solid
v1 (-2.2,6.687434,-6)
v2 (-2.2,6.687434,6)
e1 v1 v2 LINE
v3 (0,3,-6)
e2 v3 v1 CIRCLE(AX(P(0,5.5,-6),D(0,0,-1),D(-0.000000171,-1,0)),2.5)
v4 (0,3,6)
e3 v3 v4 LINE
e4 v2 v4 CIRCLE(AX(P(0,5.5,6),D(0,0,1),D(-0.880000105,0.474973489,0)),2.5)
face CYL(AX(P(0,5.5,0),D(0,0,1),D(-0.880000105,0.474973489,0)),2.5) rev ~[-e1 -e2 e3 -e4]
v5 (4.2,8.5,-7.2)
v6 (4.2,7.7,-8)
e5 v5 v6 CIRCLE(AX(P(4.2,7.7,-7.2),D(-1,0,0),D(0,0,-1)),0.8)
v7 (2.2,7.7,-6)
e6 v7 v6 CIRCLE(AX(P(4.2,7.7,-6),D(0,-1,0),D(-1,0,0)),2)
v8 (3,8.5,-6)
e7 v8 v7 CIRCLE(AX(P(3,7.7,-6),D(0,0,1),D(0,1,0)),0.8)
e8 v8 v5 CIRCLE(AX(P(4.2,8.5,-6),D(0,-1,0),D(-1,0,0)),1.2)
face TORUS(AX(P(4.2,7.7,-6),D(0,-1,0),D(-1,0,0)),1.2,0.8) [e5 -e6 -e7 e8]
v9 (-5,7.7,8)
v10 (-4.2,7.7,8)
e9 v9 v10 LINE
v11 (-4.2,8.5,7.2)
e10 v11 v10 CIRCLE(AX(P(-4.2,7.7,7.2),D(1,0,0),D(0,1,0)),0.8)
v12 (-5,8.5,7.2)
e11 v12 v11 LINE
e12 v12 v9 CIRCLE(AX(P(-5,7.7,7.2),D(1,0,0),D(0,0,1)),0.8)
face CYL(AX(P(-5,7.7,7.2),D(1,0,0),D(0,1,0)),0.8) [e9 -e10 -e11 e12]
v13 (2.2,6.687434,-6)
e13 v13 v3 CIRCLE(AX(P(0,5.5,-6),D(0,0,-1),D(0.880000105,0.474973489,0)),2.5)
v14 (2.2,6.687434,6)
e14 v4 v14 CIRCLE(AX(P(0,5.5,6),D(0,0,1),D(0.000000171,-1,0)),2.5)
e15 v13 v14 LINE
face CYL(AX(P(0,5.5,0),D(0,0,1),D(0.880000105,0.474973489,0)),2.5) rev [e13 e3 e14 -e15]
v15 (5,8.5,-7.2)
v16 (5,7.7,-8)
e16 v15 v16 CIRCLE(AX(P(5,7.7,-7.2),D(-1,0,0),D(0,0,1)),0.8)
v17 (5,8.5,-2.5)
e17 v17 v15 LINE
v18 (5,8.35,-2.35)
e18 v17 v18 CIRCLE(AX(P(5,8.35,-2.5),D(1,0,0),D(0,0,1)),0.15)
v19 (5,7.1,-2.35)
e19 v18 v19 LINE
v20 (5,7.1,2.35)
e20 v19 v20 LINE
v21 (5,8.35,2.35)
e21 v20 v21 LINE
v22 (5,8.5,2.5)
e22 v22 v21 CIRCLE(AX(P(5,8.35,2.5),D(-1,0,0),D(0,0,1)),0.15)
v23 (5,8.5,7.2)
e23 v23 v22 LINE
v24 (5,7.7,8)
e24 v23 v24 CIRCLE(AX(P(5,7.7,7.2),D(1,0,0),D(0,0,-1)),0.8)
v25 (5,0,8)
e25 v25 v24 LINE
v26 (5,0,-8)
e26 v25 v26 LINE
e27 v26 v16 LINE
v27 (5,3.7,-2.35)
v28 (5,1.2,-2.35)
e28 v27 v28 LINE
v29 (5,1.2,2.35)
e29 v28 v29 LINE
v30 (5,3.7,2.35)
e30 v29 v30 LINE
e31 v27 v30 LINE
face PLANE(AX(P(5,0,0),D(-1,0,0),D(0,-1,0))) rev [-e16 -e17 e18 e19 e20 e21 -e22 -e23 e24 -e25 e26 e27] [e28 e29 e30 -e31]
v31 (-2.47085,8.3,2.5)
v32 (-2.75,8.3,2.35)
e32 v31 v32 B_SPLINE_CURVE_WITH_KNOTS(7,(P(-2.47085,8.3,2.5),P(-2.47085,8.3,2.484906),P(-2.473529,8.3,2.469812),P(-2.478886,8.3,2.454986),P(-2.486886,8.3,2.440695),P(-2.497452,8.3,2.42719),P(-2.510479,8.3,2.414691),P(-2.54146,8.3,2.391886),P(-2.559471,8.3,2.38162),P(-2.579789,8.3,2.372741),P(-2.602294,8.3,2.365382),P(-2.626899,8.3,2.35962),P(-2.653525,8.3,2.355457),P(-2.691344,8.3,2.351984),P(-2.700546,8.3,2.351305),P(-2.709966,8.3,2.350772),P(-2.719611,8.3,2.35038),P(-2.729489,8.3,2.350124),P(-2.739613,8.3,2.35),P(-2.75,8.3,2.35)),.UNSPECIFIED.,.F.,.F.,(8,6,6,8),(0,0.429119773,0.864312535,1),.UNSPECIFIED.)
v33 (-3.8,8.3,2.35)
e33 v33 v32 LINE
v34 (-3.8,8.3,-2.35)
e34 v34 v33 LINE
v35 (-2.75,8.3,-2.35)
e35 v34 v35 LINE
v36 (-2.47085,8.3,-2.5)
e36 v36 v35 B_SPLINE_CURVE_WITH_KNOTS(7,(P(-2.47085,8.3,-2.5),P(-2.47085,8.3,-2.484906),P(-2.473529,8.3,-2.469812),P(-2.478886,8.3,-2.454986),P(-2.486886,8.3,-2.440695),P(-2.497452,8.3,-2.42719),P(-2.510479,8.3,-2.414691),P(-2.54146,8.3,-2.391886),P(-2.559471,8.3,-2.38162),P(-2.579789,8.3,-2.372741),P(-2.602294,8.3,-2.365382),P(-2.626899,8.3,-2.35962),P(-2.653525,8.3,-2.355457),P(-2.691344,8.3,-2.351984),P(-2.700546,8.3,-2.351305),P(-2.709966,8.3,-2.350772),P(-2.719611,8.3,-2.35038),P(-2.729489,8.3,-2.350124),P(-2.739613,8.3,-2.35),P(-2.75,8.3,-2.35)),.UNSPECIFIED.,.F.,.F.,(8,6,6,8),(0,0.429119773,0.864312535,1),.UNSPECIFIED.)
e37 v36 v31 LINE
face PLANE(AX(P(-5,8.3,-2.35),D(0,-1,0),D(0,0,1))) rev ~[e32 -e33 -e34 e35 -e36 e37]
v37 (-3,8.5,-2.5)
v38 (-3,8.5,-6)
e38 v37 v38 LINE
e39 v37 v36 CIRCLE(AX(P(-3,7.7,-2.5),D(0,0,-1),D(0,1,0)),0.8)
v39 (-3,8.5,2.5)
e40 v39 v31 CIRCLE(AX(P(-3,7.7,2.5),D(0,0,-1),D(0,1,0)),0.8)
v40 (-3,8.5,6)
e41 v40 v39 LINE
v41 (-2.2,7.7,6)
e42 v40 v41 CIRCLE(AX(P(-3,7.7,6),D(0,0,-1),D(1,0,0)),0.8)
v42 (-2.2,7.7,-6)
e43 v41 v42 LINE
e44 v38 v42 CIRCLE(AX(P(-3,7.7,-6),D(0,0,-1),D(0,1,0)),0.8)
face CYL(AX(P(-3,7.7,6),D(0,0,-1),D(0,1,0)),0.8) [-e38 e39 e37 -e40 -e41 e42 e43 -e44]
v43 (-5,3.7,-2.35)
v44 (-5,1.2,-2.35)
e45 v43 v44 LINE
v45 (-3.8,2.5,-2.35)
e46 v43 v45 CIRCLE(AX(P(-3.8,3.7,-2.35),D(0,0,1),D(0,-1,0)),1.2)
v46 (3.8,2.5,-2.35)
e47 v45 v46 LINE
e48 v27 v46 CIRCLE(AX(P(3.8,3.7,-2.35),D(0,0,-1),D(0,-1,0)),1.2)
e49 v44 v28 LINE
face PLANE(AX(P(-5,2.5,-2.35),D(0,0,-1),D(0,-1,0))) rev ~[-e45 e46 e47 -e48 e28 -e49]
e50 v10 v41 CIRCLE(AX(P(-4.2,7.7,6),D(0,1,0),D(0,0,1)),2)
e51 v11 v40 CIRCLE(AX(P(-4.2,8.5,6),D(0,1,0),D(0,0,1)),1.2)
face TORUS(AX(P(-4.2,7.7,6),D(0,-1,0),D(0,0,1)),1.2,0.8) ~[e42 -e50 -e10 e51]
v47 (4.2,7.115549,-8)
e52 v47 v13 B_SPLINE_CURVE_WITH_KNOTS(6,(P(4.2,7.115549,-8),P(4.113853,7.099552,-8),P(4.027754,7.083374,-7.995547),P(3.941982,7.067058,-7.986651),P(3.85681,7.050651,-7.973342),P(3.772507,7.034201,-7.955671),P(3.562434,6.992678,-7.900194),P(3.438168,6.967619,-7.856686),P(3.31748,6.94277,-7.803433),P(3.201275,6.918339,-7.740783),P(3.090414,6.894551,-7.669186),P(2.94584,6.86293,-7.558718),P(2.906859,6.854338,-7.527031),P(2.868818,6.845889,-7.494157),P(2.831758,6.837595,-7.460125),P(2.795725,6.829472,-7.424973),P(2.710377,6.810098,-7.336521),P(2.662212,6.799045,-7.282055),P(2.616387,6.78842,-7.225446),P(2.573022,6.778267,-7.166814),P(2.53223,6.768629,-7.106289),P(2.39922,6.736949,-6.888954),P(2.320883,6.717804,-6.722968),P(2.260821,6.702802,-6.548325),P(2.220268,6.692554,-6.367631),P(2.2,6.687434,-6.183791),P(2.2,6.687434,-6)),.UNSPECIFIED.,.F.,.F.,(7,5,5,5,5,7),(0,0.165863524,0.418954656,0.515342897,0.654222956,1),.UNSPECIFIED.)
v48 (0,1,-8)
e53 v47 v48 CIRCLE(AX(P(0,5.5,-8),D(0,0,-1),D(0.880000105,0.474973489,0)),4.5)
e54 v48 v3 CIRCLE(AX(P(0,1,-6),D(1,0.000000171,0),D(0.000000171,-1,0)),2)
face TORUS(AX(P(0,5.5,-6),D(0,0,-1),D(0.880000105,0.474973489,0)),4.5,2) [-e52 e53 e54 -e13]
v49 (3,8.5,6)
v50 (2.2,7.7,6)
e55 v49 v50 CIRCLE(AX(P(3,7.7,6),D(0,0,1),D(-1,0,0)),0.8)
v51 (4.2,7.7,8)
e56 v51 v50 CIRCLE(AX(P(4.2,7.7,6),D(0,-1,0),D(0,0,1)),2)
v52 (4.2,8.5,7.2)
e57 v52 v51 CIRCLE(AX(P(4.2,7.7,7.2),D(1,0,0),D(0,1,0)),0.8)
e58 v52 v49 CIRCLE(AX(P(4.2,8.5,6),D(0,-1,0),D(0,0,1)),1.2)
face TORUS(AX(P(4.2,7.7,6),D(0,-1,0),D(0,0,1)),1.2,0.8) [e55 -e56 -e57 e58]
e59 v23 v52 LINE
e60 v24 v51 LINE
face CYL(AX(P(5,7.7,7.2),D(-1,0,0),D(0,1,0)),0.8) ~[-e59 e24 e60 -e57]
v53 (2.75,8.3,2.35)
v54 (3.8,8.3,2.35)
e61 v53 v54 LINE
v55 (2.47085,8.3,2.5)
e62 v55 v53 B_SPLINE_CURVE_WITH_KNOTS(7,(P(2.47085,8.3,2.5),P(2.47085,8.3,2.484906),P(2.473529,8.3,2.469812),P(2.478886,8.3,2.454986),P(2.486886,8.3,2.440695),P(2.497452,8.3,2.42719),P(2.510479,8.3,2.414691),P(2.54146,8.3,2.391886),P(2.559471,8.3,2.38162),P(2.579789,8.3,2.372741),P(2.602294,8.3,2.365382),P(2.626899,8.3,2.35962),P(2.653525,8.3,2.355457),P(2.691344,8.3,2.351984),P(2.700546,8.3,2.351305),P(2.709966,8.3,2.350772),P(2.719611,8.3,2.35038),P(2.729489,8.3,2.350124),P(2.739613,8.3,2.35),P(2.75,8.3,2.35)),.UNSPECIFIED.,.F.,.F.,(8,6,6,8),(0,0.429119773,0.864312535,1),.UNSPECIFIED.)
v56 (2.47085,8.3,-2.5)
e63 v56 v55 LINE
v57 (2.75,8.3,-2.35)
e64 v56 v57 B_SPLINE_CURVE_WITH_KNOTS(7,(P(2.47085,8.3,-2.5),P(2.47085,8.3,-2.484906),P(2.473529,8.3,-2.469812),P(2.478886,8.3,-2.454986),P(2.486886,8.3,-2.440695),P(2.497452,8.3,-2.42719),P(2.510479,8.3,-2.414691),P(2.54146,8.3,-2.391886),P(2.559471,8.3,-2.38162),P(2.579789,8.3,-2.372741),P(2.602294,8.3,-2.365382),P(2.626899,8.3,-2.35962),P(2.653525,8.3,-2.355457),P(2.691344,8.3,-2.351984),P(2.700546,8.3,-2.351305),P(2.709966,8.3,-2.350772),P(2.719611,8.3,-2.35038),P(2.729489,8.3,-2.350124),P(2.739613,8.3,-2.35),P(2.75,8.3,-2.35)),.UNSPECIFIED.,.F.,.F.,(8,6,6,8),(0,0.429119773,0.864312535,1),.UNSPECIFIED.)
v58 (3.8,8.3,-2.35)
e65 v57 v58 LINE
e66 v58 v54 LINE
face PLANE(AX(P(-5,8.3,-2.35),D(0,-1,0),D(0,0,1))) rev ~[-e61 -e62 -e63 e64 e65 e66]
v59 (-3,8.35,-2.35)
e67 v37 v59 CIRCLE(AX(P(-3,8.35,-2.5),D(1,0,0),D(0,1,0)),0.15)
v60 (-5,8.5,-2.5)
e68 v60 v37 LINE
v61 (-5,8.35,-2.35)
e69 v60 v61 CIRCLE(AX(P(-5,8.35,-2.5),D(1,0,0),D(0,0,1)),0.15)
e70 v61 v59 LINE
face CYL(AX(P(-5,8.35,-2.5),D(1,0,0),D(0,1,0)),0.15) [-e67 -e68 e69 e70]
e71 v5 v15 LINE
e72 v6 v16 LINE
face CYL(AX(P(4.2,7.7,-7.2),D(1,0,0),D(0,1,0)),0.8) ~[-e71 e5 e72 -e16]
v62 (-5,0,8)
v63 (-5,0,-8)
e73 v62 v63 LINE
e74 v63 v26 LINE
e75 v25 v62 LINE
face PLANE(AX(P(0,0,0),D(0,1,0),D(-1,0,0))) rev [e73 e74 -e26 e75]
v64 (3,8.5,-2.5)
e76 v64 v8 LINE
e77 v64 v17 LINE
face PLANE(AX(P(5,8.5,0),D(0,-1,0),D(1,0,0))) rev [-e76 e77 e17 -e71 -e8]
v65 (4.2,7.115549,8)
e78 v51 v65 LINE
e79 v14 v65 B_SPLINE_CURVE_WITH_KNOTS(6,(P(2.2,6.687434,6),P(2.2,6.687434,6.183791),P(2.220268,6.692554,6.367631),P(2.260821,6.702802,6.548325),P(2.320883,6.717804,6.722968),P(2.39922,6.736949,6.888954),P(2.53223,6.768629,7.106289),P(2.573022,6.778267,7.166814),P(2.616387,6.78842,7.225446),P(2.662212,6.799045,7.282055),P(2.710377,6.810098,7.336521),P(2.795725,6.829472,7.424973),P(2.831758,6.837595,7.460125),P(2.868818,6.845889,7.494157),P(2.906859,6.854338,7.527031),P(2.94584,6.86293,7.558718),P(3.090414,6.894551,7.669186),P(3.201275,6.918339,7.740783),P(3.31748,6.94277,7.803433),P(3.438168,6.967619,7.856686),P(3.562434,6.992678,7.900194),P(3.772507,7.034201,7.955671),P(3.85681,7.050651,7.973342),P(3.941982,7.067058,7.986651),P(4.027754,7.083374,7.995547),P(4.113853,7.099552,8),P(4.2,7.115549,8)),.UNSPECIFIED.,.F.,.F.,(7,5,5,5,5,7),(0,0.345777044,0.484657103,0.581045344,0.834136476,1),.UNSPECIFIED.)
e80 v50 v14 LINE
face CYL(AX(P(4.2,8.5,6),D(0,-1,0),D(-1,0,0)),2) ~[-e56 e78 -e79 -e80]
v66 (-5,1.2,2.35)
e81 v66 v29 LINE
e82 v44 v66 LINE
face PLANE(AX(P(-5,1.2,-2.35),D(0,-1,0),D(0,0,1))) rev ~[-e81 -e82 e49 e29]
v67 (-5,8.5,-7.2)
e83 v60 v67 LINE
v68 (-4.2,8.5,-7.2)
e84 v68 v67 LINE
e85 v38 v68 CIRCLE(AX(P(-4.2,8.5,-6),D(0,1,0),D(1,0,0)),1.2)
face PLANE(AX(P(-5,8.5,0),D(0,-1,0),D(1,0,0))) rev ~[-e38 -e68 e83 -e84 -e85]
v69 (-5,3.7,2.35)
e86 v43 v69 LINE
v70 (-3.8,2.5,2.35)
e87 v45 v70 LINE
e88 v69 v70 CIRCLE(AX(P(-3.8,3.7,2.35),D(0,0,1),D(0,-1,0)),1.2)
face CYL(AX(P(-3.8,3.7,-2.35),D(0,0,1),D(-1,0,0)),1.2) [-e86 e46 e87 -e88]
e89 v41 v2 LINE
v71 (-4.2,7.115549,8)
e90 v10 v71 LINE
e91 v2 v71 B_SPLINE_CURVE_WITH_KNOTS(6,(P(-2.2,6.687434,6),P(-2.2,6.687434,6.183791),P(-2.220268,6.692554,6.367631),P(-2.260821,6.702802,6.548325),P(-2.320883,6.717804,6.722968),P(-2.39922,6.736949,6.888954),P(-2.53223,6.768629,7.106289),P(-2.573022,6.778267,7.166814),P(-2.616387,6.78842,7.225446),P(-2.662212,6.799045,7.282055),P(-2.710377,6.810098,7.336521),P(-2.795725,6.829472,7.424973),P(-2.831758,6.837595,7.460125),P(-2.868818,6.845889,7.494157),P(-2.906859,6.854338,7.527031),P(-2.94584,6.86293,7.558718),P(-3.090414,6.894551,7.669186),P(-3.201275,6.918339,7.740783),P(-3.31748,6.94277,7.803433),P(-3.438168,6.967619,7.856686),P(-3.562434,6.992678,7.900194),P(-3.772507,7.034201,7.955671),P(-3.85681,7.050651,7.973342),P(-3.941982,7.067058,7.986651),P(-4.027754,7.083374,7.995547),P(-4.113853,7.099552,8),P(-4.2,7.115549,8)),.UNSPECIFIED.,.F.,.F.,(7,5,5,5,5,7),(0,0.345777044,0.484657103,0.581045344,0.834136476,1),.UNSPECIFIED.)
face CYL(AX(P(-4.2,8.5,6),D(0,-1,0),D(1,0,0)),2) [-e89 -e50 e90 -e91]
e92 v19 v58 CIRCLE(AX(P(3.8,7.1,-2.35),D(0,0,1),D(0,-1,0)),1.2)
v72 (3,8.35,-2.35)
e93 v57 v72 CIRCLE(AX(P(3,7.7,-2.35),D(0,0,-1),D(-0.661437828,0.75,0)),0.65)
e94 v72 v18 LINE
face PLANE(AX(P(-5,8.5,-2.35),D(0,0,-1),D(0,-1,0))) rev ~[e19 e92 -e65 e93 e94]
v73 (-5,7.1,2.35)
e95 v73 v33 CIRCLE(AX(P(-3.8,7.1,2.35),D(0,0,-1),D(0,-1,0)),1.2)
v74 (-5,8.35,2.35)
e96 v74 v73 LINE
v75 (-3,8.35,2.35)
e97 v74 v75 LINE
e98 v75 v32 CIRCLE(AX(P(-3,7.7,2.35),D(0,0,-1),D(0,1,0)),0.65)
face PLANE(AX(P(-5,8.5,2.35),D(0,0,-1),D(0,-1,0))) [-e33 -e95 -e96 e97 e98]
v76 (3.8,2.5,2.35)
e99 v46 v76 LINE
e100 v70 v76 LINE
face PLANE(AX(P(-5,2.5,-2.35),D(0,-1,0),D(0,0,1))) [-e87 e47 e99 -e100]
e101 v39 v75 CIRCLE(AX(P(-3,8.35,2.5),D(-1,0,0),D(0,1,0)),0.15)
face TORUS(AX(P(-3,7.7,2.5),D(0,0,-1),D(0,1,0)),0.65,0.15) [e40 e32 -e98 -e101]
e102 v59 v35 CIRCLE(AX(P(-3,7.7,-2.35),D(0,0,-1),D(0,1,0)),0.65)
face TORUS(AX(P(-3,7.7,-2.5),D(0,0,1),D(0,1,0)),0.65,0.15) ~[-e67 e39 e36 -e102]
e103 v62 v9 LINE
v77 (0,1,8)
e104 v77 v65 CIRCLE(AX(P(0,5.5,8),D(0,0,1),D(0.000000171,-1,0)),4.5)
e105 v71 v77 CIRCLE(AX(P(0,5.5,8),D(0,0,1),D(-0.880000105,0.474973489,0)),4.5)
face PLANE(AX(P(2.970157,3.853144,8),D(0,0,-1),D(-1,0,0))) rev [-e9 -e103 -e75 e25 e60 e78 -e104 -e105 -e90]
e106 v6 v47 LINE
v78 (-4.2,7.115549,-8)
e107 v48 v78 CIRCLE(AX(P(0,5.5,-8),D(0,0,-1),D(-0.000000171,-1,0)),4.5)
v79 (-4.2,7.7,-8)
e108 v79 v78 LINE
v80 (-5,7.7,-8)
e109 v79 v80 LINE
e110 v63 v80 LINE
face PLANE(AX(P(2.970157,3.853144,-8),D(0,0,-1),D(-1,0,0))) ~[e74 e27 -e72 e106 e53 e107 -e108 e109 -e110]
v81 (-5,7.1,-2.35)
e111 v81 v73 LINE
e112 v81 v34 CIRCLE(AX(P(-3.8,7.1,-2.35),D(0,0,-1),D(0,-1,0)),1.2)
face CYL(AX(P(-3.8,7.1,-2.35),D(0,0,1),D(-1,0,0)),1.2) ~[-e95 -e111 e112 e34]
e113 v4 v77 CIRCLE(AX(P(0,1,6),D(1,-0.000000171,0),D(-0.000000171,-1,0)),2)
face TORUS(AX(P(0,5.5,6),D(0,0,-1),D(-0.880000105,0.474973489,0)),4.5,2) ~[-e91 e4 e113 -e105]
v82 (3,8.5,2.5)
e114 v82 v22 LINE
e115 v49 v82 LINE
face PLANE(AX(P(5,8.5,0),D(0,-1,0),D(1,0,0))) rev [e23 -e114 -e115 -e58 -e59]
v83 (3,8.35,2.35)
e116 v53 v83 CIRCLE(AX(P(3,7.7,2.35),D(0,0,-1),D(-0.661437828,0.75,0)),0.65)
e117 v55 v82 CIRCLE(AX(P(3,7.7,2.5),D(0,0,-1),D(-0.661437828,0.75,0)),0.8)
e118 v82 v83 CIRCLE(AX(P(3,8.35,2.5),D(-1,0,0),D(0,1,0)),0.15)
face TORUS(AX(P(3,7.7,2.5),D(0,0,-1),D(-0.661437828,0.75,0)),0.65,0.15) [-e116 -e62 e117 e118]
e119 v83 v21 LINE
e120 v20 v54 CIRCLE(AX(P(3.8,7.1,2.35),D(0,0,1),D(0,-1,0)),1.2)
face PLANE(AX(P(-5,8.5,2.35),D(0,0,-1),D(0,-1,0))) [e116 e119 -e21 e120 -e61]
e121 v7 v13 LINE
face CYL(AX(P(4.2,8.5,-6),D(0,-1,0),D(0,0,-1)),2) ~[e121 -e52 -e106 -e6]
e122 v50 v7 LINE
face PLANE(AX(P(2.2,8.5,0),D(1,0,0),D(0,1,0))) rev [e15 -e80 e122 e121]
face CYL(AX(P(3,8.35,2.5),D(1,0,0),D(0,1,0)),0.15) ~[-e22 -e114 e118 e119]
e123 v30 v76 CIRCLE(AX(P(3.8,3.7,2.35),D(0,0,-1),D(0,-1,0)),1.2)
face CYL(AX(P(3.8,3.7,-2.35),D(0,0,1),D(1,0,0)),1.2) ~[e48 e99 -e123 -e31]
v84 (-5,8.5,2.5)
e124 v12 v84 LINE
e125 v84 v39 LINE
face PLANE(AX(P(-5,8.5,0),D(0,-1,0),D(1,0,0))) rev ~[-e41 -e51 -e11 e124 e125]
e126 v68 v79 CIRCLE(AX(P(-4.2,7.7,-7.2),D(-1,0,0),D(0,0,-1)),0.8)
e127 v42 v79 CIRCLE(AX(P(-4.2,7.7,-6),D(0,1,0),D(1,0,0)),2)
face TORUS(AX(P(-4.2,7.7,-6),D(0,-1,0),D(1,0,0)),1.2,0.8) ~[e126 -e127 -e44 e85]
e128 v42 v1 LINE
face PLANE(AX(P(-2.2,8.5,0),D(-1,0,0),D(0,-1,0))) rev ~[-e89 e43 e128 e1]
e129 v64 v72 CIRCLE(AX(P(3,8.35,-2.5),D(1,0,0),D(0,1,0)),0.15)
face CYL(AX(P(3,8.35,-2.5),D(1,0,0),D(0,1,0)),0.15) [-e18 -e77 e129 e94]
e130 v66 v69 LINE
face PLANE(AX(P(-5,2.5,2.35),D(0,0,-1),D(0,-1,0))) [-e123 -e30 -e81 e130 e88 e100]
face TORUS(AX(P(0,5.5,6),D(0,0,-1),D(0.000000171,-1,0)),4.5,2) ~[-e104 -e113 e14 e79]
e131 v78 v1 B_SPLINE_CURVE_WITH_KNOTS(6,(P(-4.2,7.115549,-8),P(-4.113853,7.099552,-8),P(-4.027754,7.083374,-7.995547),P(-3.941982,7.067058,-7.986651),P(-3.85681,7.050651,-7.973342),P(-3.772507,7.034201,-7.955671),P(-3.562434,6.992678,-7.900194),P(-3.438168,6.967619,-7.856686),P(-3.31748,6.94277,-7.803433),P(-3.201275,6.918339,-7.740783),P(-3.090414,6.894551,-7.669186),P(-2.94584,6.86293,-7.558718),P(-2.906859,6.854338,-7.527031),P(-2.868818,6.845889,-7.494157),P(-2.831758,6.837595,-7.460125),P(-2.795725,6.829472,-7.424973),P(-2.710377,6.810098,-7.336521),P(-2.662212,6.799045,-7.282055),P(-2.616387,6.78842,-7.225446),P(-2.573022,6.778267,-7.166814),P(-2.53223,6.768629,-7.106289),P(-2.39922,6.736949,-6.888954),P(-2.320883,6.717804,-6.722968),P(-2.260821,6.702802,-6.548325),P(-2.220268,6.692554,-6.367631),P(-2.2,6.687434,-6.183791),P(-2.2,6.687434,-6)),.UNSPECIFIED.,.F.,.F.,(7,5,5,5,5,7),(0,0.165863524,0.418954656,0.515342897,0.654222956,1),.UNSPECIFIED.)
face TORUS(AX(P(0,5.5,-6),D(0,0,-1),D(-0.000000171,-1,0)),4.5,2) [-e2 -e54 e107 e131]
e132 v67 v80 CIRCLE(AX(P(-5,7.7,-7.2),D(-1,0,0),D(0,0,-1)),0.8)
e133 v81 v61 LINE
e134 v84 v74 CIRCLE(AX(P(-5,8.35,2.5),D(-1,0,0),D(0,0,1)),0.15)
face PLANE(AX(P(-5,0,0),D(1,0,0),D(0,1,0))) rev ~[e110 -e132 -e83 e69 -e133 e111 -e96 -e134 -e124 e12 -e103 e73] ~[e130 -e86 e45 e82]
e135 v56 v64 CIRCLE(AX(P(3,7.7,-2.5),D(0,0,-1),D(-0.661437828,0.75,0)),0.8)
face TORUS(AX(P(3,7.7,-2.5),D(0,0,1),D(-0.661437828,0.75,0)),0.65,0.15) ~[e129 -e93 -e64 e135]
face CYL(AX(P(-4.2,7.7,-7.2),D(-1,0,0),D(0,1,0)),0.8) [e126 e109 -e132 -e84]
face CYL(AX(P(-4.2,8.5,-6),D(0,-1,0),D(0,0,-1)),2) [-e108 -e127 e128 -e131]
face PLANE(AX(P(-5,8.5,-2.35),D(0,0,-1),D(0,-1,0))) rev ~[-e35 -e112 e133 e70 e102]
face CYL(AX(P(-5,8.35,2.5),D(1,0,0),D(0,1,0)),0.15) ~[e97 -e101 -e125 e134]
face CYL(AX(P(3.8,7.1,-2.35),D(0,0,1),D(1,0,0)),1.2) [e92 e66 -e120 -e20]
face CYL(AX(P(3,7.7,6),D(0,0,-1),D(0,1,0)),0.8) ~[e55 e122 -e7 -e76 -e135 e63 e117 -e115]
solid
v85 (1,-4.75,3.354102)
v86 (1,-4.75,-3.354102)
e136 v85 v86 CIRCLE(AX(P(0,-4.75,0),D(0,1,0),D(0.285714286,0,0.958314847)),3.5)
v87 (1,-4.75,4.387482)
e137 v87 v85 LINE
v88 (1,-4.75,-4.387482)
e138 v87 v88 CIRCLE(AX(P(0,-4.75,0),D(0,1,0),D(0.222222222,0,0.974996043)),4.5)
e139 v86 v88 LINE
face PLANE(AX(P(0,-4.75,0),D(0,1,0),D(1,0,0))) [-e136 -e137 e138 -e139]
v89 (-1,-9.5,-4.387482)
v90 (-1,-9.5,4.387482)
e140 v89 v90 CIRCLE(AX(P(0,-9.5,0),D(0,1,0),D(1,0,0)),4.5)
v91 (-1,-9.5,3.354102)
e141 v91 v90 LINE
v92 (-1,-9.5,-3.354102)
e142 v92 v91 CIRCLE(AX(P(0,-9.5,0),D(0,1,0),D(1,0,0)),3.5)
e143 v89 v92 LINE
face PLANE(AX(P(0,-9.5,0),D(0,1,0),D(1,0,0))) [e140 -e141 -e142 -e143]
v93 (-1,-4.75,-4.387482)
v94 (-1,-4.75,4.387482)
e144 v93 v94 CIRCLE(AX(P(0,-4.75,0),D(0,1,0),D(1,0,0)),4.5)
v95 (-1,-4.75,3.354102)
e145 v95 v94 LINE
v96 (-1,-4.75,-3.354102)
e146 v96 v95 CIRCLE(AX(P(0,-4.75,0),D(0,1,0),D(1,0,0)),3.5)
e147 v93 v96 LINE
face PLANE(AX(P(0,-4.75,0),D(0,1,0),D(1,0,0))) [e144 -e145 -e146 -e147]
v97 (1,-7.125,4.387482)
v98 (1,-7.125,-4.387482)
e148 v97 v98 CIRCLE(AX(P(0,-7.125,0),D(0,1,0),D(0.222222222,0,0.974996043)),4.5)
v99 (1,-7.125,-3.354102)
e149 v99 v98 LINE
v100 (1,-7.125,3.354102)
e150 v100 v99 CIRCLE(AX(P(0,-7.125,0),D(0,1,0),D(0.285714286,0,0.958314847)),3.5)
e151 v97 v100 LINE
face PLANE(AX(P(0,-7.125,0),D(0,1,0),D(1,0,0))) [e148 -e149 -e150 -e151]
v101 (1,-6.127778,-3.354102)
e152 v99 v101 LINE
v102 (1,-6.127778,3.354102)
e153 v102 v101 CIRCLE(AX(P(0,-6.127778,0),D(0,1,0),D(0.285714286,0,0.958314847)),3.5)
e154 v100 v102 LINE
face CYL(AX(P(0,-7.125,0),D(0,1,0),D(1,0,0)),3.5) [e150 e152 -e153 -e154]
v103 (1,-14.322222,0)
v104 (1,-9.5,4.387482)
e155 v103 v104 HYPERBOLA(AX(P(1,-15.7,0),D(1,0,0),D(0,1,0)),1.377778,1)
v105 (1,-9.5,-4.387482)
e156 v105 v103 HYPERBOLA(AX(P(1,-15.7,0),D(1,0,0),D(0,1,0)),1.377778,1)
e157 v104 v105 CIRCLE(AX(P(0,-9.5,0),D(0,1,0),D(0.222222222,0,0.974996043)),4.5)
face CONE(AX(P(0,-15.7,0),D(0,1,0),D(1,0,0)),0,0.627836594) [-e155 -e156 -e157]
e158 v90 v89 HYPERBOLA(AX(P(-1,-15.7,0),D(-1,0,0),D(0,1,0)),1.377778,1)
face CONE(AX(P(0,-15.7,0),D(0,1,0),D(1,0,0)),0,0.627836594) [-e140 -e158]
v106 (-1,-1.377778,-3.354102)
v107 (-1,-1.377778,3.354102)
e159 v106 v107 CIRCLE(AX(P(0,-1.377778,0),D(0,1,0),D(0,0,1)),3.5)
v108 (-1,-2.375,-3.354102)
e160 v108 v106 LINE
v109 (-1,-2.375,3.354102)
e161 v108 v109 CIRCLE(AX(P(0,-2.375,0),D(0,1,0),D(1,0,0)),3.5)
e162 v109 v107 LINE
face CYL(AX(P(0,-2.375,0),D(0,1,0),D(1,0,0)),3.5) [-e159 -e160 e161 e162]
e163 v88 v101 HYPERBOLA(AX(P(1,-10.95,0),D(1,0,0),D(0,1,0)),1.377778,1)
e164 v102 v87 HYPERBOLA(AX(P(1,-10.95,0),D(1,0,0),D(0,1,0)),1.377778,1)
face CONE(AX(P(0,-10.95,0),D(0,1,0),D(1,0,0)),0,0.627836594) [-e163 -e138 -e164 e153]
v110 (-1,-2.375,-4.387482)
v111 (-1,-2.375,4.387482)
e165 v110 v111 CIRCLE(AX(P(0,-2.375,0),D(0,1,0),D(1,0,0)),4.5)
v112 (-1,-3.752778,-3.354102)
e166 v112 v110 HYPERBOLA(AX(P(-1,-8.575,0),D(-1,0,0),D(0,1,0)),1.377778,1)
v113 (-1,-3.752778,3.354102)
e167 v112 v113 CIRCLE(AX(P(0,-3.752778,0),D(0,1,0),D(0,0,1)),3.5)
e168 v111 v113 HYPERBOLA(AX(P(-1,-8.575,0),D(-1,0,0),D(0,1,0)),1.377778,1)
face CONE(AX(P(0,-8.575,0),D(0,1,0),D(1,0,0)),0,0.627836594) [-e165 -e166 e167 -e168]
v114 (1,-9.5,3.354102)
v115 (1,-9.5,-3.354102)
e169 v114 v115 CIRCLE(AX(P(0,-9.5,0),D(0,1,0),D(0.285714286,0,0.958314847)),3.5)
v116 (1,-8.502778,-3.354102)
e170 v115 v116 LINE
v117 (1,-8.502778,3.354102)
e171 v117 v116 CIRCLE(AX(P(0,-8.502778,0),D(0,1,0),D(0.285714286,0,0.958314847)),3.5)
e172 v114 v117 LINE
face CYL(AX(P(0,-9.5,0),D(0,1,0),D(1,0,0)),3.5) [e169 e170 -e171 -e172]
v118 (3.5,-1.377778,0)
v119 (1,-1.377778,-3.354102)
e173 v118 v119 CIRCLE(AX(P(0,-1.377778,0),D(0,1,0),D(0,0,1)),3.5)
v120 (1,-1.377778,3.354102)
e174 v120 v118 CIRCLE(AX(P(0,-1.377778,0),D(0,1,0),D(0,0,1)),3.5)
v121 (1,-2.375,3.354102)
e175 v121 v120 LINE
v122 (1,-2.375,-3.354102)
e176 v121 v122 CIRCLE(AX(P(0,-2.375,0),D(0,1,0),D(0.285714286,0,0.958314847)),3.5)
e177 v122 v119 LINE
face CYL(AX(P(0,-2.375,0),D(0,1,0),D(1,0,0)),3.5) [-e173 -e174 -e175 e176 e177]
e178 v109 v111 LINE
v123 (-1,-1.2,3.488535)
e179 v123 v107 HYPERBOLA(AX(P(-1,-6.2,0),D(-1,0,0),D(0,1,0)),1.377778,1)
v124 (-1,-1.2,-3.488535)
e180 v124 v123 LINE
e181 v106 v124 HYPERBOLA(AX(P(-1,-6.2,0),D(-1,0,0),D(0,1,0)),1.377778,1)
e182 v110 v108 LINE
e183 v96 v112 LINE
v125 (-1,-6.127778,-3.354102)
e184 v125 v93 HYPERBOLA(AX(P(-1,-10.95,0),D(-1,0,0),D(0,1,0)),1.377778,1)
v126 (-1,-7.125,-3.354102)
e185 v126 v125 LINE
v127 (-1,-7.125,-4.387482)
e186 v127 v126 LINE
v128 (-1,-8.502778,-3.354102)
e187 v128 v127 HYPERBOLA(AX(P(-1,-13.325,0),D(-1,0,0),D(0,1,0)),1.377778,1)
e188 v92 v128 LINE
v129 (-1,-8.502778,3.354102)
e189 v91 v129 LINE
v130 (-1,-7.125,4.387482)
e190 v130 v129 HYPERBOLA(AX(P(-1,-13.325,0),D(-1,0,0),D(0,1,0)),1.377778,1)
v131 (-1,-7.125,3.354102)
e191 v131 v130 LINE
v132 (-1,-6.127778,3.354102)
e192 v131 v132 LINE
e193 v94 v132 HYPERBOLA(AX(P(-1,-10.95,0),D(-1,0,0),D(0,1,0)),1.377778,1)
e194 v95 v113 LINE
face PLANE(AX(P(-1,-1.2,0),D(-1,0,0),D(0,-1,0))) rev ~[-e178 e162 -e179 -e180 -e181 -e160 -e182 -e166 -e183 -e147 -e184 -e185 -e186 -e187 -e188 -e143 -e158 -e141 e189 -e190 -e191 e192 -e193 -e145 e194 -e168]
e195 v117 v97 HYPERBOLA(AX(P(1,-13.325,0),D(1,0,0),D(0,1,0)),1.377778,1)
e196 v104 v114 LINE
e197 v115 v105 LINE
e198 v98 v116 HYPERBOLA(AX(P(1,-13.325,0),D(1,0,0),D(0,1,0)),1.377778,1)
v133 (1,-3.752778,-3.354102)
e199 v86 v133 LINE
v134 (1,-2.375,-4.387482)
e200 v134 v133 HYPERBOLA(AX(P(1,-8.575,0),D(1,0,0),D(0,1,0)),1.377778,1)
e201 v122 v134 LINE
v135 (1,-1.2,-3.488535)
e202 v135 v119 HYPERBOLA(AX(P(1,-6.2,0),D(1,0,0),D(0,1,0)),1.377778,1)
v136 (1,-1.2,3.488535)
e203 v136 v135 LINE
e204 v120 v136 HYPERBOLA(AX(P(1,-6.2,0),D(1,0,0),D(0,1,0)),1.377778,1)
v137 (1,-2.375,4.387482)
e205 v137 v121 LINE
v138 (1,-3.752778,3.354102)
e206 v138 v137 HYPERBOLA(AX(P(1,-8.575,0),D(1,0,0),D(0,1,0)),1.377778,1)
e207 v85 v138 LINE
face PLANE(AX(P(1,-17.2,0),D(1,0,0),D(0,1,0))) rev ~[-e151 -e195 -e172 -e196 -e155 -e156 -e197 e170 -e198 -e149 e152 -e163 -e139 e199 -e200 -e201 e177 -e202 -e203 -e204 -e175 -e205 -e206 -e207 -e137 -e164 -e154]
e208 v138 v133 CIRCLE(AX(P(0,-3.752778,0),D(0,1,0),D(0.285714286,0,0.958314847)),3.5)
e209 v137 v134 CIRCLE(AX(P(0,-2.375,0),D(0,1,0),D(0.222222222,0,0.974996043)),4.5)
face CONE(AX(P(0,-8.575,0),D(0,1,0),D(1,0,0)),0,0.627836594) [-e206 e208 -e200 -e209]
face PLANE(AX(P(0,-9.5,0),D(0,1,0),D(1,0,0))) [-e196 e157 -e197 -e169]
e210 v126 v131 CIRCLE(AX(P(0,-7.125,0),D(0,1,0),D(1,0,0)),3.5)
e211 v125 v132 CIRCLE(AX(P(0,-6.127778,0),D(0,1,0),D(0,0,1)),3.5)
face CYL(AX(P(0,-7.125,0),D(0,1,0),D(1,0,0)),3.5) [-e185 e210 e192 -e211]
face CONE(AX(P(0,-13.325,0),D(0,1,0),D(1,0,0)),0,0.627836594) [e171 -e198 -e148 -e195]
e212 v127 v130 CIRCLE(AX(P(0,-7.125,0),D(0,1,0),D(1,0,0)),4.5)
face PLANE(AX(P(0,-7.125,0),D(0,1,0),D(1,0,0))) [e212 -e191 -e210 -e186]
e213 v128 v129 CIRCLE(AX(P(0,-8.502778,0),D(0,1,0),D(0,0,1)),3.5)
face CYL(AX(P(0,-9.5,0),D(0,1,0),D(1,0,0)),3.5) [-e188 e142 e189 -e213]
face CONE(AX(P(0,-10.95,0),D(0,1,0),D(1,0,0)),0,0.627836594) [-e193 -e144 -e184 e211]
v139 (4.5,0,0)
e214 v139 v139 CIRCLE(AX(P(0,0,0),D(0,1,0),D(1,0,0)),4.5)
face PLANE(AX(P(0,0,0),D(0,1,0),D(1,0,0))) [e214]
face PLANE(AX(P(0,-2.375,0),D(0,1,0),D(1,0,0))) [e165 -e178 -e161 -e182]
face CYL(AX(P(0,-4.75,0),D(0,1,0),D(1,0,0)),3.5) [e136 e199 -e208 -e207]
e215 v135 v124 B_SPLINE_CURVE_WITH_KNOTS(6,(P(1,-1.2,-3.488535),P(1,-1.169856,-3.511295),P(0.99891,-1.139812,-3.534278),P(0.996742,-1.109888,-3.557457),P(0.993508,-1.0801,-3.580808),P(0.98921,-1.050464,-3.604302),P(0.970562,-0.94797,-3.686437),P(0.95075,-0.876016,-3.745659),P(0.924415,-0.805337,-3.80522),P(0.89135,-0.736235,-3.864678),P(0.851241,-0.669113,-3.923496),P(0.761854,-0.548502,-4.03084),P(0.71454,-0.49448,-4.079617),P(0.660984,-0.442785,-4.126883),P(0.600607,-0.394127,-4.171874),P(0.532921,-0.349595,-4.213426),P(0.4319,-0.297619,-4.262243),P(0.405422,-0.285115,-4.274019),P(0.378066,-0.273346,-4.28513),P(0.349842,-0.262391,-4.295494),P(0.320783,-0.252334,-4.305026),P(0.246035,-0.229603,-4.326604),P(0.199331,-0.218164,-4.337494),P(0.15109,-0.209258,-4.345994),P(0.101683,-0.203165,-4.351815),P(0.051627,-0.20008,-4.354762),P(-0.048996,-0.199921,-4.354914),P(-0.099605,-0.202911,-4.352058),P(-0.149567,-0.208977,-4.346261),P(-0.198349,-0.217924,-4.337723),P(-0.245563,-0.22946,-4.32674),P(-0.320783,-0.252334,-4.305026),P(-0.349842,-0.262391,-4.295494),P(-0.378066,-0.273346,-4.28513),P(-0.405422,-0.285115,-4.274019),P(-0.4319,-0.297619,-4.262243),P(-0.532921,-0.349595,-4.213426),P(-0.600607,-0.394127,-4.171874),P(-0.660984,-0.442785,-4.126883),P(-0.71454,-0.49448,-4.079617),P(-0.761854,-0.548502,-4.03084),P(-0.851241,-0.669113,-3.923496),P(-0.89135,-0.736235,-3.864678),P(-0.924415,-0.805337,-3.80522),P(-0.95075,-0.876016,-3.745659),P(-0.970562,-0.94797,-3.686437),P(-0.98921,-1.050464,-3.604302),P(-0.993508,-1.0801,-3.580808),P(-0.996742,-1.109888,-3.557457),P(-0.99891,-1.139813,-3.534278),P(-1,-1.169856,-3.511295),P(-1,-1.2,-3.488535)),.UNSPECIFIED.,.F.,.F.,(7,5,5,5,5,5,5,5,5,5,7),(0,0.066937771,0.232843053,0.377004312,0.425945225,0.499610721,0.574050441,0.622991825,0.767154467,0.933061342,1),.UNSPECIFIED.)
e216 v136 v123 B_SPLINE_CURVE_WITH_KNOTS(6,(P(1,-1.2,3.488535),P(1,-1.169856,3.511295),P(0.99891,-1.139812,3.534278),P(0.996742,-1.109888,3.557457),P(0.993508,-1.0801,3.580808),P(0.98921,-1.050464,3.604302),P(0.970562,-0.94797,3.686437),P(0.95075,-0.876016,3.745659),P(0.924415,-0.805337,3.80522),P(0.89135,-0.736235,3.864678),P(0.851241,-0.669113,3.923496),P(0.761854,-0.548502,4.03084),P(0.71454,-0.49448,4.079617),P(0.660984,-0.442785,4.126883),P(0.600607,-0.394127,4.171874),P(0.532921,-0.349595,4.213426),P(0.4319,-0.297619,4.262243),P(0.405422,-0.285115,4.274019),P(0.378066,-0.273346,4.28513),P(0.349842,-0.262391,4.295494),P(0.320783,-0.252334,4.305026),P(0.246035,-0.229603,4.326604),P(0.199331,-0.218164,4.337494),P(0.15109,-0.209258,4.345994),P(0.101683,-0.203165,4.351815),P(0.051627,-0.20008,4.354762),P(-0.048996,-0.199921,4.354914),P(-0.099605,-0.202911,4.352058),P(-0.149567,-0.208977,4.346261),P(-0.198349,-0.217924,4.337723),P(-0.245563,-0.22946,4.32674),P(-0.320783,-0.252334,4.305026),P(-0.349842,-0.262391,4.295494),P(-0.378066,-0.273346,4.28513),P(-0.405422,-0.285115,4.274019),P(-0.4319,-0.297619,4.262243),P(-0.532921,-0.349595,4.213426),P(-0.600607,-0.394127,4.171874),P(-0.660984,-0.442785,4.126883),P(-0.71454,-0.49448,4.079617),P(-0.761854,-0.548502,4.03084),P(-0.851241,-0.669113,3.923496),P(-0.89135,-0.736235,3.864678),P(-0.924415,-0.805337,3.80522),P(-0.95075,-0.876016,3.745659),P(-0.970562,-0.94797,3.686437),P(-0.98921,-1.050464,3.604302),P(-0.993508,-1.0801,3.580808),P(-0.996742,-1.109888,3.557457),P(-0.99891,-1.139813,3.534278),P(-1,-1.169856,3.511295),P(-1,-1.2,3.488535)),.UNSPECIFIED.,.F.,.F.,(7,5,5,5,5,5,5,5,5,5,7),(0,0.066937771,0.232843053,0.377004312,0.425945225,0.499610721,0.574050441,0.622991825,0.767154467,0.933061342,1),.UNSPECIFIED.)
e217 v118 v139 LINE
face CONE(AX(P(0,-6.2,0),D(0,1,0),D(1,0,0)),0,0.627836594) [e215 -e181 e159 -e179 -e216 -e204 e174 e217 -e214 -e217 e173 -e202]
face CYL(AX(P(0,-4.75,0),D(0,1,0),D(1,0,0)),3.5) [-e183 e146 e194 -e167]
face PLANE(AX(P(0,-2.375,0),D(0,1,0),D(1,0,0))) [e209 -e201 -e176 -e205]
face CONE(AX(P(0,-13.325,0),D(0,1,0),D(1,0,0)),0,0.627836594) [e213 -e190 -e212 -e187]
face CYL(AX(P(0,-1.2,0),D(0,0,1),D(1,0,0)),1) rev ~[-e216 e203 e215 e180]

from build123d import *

# Parameters (mm, degrees)
PAD_DEPTH             = 8
FILLET_R              = 2
FILLET001_R           = 0.8
SKETCH004_W           = 1.3
SKETCH004_H           = 4.7
SKETCH004_W_2         = 0.2
POCKET_DEPTH          = 10
FILLET002_R           = 1.2
FILLET003_R           = 0.15
PAD001_DEPTH          = 5.5
LINEARPATTERN_COUNT   = 5
LINEARPATTERN_PITCH   = 2.375
LINEARPATTERN_FACE3_R = 3.5
POCKET001_DEPTH       = 2


with BuildPart() as pipe_holders:
    # Sketch → Pad (new body, symmetric)
    with BuildSketch(Plane.XY):
        with BuildLine():
            Line((0, 0), (-5, 0))
            Line((-5, 0), (-5, 8.5))
            Line((-5, 8.5), (-2.2, 8.5))
            Line((-2.2, 8.5), (-2.2, 6.687434))
            ThreePointArc((-2.2, 6.687434), (-2.146926, 4.219099), (0, 3))
            Line((0, 3), (0, 0))
        make_face()
    pad = extrude(amount=PAD_DEPTH, both=True)

    # Mirrored: Pad across Sketch V_Axis
    add(pad.mirror(Plane(origin=(0, 0, 0), x_dir=(0, 0, 1), z_dir=(1, 0, 0))))

    # Fillet
    fillet_edges = [pipe_holders.edges().sort_by_distance(p)[0] for p in [
        (2.2, 7.593717, -8),
        (2.146926, 4.219099, -8),
        (-2.146926, 4.219099, -8),
        (-2.2, 7.593717, -8),
        (-2.2, 7.593717, 8),
        (-2.146926, 4.219099, 8),
        (2.146926, 4.219099, 8),
        (2.2, 7.593717, 8),
    ]]
    fillet(fillet_edges, radius=FILLET_R)

    # Fillet001
    fillet001_edges = [pipe_holders.edges().sort_by_distance(p)[0] for p in [
        (2.2, 8.5, 0),
        (-2.2, 8.5, 0),
    ]]
    fillet(fillet001_edges, radius=FILLET001_R)

    # Sketch004 (on Face3 of Mirrored) → Pocket (cut)
    with BuildSketch(Plane(origin=(-5, 0, 0), x_dir=(0, -1, 0), z_dir=(-1, 0, 0))):
        with Locations((-1.85, 0)):
            Rectangle(SKETCH004_W, SKETCH004_H)
        with Locations((-8.4, 0)):
            Rectangle(SKETCH004_W_2, SKETCH004_H)
    extrude(amount=-POCKET_DEPTH, mode=Mode.SUBTRACT)

    # Fillet002
    fillet002_edges = [pipe_holders.edges().sort_by_distance(p)[0] for p in [
        (-5, 8.3, 0),
        (-5, 2.5, 0),
        (5, 8.3, 0),
        (5, 2.5, 0),
    ]]
    fillet(fillet002_edges, radius=FILLET002_R)

    # Fillet003
    fillet003_edges = [pipe_holders.edges().sort_by_distance(p)[0] for p in [
        (-4, 8.5, -2.35),
        (-4, 8.5, 2.35),
        (4, 8.5, -2.35),
        (4, 8.5, 2.35),
    ]]
    fillet(fillet003_edges, radius=FILLET003_R)


with BuildPart() as vide_rivet:
    # Sketch003 → Pad001 (new body, symmetric)
    with BuildSketch(Plane.XY):
        with BuildLine():
            ThreePointArc((1, -1.2), (0, -0.2), (-1, -1.2))
            Line((-1, -1.2), (-1, -17.2))
            ThreePointArc((-1, -17.2), (0, -18.2), (1, -17.2))
            Line((1, -17.2), (1, -1.2))
        make_face()
    extrude(amount=PAD001_DEPTH, both=True)


with BuildPart() as cut:
    # Sketch002 → Revolution (revolve)
    with BuildSketch(Plane.XY):
        Polygon((3.5, 2), (0, 2), (0, -6.2), (4.5, 0), (3.5, 0), align=None)
    revolution = revolve(axis=Axis((0, 0, 0), (0, 1, 0)))

    # LinearPattern: Revolution ×5
    with Locations(*[(0, -i * LINEARPATTERN_PITCH, 0) for i in range(1, LINEARPATTERN_COUNT)]):
        add(revolution)

    # LinearPattern Face3 → Pocket001 (cut)
    with BuildSketch(Plane(origin=(0, 2, 0), x_dir=(1, 0, 0), z_dir=(0, 1, 0))):
        Circle(LINEARPATTERN_FACE3_R)
    extrude(amount=-POCKET001_DEPTH, mode=Mode.SUBTRACT)

    # Cut: cut vide rivet
    add(vide_rivet.part, mode=Mode.SUBTRACT)


solid = Compound([pipe_holders.part, cut.part])
